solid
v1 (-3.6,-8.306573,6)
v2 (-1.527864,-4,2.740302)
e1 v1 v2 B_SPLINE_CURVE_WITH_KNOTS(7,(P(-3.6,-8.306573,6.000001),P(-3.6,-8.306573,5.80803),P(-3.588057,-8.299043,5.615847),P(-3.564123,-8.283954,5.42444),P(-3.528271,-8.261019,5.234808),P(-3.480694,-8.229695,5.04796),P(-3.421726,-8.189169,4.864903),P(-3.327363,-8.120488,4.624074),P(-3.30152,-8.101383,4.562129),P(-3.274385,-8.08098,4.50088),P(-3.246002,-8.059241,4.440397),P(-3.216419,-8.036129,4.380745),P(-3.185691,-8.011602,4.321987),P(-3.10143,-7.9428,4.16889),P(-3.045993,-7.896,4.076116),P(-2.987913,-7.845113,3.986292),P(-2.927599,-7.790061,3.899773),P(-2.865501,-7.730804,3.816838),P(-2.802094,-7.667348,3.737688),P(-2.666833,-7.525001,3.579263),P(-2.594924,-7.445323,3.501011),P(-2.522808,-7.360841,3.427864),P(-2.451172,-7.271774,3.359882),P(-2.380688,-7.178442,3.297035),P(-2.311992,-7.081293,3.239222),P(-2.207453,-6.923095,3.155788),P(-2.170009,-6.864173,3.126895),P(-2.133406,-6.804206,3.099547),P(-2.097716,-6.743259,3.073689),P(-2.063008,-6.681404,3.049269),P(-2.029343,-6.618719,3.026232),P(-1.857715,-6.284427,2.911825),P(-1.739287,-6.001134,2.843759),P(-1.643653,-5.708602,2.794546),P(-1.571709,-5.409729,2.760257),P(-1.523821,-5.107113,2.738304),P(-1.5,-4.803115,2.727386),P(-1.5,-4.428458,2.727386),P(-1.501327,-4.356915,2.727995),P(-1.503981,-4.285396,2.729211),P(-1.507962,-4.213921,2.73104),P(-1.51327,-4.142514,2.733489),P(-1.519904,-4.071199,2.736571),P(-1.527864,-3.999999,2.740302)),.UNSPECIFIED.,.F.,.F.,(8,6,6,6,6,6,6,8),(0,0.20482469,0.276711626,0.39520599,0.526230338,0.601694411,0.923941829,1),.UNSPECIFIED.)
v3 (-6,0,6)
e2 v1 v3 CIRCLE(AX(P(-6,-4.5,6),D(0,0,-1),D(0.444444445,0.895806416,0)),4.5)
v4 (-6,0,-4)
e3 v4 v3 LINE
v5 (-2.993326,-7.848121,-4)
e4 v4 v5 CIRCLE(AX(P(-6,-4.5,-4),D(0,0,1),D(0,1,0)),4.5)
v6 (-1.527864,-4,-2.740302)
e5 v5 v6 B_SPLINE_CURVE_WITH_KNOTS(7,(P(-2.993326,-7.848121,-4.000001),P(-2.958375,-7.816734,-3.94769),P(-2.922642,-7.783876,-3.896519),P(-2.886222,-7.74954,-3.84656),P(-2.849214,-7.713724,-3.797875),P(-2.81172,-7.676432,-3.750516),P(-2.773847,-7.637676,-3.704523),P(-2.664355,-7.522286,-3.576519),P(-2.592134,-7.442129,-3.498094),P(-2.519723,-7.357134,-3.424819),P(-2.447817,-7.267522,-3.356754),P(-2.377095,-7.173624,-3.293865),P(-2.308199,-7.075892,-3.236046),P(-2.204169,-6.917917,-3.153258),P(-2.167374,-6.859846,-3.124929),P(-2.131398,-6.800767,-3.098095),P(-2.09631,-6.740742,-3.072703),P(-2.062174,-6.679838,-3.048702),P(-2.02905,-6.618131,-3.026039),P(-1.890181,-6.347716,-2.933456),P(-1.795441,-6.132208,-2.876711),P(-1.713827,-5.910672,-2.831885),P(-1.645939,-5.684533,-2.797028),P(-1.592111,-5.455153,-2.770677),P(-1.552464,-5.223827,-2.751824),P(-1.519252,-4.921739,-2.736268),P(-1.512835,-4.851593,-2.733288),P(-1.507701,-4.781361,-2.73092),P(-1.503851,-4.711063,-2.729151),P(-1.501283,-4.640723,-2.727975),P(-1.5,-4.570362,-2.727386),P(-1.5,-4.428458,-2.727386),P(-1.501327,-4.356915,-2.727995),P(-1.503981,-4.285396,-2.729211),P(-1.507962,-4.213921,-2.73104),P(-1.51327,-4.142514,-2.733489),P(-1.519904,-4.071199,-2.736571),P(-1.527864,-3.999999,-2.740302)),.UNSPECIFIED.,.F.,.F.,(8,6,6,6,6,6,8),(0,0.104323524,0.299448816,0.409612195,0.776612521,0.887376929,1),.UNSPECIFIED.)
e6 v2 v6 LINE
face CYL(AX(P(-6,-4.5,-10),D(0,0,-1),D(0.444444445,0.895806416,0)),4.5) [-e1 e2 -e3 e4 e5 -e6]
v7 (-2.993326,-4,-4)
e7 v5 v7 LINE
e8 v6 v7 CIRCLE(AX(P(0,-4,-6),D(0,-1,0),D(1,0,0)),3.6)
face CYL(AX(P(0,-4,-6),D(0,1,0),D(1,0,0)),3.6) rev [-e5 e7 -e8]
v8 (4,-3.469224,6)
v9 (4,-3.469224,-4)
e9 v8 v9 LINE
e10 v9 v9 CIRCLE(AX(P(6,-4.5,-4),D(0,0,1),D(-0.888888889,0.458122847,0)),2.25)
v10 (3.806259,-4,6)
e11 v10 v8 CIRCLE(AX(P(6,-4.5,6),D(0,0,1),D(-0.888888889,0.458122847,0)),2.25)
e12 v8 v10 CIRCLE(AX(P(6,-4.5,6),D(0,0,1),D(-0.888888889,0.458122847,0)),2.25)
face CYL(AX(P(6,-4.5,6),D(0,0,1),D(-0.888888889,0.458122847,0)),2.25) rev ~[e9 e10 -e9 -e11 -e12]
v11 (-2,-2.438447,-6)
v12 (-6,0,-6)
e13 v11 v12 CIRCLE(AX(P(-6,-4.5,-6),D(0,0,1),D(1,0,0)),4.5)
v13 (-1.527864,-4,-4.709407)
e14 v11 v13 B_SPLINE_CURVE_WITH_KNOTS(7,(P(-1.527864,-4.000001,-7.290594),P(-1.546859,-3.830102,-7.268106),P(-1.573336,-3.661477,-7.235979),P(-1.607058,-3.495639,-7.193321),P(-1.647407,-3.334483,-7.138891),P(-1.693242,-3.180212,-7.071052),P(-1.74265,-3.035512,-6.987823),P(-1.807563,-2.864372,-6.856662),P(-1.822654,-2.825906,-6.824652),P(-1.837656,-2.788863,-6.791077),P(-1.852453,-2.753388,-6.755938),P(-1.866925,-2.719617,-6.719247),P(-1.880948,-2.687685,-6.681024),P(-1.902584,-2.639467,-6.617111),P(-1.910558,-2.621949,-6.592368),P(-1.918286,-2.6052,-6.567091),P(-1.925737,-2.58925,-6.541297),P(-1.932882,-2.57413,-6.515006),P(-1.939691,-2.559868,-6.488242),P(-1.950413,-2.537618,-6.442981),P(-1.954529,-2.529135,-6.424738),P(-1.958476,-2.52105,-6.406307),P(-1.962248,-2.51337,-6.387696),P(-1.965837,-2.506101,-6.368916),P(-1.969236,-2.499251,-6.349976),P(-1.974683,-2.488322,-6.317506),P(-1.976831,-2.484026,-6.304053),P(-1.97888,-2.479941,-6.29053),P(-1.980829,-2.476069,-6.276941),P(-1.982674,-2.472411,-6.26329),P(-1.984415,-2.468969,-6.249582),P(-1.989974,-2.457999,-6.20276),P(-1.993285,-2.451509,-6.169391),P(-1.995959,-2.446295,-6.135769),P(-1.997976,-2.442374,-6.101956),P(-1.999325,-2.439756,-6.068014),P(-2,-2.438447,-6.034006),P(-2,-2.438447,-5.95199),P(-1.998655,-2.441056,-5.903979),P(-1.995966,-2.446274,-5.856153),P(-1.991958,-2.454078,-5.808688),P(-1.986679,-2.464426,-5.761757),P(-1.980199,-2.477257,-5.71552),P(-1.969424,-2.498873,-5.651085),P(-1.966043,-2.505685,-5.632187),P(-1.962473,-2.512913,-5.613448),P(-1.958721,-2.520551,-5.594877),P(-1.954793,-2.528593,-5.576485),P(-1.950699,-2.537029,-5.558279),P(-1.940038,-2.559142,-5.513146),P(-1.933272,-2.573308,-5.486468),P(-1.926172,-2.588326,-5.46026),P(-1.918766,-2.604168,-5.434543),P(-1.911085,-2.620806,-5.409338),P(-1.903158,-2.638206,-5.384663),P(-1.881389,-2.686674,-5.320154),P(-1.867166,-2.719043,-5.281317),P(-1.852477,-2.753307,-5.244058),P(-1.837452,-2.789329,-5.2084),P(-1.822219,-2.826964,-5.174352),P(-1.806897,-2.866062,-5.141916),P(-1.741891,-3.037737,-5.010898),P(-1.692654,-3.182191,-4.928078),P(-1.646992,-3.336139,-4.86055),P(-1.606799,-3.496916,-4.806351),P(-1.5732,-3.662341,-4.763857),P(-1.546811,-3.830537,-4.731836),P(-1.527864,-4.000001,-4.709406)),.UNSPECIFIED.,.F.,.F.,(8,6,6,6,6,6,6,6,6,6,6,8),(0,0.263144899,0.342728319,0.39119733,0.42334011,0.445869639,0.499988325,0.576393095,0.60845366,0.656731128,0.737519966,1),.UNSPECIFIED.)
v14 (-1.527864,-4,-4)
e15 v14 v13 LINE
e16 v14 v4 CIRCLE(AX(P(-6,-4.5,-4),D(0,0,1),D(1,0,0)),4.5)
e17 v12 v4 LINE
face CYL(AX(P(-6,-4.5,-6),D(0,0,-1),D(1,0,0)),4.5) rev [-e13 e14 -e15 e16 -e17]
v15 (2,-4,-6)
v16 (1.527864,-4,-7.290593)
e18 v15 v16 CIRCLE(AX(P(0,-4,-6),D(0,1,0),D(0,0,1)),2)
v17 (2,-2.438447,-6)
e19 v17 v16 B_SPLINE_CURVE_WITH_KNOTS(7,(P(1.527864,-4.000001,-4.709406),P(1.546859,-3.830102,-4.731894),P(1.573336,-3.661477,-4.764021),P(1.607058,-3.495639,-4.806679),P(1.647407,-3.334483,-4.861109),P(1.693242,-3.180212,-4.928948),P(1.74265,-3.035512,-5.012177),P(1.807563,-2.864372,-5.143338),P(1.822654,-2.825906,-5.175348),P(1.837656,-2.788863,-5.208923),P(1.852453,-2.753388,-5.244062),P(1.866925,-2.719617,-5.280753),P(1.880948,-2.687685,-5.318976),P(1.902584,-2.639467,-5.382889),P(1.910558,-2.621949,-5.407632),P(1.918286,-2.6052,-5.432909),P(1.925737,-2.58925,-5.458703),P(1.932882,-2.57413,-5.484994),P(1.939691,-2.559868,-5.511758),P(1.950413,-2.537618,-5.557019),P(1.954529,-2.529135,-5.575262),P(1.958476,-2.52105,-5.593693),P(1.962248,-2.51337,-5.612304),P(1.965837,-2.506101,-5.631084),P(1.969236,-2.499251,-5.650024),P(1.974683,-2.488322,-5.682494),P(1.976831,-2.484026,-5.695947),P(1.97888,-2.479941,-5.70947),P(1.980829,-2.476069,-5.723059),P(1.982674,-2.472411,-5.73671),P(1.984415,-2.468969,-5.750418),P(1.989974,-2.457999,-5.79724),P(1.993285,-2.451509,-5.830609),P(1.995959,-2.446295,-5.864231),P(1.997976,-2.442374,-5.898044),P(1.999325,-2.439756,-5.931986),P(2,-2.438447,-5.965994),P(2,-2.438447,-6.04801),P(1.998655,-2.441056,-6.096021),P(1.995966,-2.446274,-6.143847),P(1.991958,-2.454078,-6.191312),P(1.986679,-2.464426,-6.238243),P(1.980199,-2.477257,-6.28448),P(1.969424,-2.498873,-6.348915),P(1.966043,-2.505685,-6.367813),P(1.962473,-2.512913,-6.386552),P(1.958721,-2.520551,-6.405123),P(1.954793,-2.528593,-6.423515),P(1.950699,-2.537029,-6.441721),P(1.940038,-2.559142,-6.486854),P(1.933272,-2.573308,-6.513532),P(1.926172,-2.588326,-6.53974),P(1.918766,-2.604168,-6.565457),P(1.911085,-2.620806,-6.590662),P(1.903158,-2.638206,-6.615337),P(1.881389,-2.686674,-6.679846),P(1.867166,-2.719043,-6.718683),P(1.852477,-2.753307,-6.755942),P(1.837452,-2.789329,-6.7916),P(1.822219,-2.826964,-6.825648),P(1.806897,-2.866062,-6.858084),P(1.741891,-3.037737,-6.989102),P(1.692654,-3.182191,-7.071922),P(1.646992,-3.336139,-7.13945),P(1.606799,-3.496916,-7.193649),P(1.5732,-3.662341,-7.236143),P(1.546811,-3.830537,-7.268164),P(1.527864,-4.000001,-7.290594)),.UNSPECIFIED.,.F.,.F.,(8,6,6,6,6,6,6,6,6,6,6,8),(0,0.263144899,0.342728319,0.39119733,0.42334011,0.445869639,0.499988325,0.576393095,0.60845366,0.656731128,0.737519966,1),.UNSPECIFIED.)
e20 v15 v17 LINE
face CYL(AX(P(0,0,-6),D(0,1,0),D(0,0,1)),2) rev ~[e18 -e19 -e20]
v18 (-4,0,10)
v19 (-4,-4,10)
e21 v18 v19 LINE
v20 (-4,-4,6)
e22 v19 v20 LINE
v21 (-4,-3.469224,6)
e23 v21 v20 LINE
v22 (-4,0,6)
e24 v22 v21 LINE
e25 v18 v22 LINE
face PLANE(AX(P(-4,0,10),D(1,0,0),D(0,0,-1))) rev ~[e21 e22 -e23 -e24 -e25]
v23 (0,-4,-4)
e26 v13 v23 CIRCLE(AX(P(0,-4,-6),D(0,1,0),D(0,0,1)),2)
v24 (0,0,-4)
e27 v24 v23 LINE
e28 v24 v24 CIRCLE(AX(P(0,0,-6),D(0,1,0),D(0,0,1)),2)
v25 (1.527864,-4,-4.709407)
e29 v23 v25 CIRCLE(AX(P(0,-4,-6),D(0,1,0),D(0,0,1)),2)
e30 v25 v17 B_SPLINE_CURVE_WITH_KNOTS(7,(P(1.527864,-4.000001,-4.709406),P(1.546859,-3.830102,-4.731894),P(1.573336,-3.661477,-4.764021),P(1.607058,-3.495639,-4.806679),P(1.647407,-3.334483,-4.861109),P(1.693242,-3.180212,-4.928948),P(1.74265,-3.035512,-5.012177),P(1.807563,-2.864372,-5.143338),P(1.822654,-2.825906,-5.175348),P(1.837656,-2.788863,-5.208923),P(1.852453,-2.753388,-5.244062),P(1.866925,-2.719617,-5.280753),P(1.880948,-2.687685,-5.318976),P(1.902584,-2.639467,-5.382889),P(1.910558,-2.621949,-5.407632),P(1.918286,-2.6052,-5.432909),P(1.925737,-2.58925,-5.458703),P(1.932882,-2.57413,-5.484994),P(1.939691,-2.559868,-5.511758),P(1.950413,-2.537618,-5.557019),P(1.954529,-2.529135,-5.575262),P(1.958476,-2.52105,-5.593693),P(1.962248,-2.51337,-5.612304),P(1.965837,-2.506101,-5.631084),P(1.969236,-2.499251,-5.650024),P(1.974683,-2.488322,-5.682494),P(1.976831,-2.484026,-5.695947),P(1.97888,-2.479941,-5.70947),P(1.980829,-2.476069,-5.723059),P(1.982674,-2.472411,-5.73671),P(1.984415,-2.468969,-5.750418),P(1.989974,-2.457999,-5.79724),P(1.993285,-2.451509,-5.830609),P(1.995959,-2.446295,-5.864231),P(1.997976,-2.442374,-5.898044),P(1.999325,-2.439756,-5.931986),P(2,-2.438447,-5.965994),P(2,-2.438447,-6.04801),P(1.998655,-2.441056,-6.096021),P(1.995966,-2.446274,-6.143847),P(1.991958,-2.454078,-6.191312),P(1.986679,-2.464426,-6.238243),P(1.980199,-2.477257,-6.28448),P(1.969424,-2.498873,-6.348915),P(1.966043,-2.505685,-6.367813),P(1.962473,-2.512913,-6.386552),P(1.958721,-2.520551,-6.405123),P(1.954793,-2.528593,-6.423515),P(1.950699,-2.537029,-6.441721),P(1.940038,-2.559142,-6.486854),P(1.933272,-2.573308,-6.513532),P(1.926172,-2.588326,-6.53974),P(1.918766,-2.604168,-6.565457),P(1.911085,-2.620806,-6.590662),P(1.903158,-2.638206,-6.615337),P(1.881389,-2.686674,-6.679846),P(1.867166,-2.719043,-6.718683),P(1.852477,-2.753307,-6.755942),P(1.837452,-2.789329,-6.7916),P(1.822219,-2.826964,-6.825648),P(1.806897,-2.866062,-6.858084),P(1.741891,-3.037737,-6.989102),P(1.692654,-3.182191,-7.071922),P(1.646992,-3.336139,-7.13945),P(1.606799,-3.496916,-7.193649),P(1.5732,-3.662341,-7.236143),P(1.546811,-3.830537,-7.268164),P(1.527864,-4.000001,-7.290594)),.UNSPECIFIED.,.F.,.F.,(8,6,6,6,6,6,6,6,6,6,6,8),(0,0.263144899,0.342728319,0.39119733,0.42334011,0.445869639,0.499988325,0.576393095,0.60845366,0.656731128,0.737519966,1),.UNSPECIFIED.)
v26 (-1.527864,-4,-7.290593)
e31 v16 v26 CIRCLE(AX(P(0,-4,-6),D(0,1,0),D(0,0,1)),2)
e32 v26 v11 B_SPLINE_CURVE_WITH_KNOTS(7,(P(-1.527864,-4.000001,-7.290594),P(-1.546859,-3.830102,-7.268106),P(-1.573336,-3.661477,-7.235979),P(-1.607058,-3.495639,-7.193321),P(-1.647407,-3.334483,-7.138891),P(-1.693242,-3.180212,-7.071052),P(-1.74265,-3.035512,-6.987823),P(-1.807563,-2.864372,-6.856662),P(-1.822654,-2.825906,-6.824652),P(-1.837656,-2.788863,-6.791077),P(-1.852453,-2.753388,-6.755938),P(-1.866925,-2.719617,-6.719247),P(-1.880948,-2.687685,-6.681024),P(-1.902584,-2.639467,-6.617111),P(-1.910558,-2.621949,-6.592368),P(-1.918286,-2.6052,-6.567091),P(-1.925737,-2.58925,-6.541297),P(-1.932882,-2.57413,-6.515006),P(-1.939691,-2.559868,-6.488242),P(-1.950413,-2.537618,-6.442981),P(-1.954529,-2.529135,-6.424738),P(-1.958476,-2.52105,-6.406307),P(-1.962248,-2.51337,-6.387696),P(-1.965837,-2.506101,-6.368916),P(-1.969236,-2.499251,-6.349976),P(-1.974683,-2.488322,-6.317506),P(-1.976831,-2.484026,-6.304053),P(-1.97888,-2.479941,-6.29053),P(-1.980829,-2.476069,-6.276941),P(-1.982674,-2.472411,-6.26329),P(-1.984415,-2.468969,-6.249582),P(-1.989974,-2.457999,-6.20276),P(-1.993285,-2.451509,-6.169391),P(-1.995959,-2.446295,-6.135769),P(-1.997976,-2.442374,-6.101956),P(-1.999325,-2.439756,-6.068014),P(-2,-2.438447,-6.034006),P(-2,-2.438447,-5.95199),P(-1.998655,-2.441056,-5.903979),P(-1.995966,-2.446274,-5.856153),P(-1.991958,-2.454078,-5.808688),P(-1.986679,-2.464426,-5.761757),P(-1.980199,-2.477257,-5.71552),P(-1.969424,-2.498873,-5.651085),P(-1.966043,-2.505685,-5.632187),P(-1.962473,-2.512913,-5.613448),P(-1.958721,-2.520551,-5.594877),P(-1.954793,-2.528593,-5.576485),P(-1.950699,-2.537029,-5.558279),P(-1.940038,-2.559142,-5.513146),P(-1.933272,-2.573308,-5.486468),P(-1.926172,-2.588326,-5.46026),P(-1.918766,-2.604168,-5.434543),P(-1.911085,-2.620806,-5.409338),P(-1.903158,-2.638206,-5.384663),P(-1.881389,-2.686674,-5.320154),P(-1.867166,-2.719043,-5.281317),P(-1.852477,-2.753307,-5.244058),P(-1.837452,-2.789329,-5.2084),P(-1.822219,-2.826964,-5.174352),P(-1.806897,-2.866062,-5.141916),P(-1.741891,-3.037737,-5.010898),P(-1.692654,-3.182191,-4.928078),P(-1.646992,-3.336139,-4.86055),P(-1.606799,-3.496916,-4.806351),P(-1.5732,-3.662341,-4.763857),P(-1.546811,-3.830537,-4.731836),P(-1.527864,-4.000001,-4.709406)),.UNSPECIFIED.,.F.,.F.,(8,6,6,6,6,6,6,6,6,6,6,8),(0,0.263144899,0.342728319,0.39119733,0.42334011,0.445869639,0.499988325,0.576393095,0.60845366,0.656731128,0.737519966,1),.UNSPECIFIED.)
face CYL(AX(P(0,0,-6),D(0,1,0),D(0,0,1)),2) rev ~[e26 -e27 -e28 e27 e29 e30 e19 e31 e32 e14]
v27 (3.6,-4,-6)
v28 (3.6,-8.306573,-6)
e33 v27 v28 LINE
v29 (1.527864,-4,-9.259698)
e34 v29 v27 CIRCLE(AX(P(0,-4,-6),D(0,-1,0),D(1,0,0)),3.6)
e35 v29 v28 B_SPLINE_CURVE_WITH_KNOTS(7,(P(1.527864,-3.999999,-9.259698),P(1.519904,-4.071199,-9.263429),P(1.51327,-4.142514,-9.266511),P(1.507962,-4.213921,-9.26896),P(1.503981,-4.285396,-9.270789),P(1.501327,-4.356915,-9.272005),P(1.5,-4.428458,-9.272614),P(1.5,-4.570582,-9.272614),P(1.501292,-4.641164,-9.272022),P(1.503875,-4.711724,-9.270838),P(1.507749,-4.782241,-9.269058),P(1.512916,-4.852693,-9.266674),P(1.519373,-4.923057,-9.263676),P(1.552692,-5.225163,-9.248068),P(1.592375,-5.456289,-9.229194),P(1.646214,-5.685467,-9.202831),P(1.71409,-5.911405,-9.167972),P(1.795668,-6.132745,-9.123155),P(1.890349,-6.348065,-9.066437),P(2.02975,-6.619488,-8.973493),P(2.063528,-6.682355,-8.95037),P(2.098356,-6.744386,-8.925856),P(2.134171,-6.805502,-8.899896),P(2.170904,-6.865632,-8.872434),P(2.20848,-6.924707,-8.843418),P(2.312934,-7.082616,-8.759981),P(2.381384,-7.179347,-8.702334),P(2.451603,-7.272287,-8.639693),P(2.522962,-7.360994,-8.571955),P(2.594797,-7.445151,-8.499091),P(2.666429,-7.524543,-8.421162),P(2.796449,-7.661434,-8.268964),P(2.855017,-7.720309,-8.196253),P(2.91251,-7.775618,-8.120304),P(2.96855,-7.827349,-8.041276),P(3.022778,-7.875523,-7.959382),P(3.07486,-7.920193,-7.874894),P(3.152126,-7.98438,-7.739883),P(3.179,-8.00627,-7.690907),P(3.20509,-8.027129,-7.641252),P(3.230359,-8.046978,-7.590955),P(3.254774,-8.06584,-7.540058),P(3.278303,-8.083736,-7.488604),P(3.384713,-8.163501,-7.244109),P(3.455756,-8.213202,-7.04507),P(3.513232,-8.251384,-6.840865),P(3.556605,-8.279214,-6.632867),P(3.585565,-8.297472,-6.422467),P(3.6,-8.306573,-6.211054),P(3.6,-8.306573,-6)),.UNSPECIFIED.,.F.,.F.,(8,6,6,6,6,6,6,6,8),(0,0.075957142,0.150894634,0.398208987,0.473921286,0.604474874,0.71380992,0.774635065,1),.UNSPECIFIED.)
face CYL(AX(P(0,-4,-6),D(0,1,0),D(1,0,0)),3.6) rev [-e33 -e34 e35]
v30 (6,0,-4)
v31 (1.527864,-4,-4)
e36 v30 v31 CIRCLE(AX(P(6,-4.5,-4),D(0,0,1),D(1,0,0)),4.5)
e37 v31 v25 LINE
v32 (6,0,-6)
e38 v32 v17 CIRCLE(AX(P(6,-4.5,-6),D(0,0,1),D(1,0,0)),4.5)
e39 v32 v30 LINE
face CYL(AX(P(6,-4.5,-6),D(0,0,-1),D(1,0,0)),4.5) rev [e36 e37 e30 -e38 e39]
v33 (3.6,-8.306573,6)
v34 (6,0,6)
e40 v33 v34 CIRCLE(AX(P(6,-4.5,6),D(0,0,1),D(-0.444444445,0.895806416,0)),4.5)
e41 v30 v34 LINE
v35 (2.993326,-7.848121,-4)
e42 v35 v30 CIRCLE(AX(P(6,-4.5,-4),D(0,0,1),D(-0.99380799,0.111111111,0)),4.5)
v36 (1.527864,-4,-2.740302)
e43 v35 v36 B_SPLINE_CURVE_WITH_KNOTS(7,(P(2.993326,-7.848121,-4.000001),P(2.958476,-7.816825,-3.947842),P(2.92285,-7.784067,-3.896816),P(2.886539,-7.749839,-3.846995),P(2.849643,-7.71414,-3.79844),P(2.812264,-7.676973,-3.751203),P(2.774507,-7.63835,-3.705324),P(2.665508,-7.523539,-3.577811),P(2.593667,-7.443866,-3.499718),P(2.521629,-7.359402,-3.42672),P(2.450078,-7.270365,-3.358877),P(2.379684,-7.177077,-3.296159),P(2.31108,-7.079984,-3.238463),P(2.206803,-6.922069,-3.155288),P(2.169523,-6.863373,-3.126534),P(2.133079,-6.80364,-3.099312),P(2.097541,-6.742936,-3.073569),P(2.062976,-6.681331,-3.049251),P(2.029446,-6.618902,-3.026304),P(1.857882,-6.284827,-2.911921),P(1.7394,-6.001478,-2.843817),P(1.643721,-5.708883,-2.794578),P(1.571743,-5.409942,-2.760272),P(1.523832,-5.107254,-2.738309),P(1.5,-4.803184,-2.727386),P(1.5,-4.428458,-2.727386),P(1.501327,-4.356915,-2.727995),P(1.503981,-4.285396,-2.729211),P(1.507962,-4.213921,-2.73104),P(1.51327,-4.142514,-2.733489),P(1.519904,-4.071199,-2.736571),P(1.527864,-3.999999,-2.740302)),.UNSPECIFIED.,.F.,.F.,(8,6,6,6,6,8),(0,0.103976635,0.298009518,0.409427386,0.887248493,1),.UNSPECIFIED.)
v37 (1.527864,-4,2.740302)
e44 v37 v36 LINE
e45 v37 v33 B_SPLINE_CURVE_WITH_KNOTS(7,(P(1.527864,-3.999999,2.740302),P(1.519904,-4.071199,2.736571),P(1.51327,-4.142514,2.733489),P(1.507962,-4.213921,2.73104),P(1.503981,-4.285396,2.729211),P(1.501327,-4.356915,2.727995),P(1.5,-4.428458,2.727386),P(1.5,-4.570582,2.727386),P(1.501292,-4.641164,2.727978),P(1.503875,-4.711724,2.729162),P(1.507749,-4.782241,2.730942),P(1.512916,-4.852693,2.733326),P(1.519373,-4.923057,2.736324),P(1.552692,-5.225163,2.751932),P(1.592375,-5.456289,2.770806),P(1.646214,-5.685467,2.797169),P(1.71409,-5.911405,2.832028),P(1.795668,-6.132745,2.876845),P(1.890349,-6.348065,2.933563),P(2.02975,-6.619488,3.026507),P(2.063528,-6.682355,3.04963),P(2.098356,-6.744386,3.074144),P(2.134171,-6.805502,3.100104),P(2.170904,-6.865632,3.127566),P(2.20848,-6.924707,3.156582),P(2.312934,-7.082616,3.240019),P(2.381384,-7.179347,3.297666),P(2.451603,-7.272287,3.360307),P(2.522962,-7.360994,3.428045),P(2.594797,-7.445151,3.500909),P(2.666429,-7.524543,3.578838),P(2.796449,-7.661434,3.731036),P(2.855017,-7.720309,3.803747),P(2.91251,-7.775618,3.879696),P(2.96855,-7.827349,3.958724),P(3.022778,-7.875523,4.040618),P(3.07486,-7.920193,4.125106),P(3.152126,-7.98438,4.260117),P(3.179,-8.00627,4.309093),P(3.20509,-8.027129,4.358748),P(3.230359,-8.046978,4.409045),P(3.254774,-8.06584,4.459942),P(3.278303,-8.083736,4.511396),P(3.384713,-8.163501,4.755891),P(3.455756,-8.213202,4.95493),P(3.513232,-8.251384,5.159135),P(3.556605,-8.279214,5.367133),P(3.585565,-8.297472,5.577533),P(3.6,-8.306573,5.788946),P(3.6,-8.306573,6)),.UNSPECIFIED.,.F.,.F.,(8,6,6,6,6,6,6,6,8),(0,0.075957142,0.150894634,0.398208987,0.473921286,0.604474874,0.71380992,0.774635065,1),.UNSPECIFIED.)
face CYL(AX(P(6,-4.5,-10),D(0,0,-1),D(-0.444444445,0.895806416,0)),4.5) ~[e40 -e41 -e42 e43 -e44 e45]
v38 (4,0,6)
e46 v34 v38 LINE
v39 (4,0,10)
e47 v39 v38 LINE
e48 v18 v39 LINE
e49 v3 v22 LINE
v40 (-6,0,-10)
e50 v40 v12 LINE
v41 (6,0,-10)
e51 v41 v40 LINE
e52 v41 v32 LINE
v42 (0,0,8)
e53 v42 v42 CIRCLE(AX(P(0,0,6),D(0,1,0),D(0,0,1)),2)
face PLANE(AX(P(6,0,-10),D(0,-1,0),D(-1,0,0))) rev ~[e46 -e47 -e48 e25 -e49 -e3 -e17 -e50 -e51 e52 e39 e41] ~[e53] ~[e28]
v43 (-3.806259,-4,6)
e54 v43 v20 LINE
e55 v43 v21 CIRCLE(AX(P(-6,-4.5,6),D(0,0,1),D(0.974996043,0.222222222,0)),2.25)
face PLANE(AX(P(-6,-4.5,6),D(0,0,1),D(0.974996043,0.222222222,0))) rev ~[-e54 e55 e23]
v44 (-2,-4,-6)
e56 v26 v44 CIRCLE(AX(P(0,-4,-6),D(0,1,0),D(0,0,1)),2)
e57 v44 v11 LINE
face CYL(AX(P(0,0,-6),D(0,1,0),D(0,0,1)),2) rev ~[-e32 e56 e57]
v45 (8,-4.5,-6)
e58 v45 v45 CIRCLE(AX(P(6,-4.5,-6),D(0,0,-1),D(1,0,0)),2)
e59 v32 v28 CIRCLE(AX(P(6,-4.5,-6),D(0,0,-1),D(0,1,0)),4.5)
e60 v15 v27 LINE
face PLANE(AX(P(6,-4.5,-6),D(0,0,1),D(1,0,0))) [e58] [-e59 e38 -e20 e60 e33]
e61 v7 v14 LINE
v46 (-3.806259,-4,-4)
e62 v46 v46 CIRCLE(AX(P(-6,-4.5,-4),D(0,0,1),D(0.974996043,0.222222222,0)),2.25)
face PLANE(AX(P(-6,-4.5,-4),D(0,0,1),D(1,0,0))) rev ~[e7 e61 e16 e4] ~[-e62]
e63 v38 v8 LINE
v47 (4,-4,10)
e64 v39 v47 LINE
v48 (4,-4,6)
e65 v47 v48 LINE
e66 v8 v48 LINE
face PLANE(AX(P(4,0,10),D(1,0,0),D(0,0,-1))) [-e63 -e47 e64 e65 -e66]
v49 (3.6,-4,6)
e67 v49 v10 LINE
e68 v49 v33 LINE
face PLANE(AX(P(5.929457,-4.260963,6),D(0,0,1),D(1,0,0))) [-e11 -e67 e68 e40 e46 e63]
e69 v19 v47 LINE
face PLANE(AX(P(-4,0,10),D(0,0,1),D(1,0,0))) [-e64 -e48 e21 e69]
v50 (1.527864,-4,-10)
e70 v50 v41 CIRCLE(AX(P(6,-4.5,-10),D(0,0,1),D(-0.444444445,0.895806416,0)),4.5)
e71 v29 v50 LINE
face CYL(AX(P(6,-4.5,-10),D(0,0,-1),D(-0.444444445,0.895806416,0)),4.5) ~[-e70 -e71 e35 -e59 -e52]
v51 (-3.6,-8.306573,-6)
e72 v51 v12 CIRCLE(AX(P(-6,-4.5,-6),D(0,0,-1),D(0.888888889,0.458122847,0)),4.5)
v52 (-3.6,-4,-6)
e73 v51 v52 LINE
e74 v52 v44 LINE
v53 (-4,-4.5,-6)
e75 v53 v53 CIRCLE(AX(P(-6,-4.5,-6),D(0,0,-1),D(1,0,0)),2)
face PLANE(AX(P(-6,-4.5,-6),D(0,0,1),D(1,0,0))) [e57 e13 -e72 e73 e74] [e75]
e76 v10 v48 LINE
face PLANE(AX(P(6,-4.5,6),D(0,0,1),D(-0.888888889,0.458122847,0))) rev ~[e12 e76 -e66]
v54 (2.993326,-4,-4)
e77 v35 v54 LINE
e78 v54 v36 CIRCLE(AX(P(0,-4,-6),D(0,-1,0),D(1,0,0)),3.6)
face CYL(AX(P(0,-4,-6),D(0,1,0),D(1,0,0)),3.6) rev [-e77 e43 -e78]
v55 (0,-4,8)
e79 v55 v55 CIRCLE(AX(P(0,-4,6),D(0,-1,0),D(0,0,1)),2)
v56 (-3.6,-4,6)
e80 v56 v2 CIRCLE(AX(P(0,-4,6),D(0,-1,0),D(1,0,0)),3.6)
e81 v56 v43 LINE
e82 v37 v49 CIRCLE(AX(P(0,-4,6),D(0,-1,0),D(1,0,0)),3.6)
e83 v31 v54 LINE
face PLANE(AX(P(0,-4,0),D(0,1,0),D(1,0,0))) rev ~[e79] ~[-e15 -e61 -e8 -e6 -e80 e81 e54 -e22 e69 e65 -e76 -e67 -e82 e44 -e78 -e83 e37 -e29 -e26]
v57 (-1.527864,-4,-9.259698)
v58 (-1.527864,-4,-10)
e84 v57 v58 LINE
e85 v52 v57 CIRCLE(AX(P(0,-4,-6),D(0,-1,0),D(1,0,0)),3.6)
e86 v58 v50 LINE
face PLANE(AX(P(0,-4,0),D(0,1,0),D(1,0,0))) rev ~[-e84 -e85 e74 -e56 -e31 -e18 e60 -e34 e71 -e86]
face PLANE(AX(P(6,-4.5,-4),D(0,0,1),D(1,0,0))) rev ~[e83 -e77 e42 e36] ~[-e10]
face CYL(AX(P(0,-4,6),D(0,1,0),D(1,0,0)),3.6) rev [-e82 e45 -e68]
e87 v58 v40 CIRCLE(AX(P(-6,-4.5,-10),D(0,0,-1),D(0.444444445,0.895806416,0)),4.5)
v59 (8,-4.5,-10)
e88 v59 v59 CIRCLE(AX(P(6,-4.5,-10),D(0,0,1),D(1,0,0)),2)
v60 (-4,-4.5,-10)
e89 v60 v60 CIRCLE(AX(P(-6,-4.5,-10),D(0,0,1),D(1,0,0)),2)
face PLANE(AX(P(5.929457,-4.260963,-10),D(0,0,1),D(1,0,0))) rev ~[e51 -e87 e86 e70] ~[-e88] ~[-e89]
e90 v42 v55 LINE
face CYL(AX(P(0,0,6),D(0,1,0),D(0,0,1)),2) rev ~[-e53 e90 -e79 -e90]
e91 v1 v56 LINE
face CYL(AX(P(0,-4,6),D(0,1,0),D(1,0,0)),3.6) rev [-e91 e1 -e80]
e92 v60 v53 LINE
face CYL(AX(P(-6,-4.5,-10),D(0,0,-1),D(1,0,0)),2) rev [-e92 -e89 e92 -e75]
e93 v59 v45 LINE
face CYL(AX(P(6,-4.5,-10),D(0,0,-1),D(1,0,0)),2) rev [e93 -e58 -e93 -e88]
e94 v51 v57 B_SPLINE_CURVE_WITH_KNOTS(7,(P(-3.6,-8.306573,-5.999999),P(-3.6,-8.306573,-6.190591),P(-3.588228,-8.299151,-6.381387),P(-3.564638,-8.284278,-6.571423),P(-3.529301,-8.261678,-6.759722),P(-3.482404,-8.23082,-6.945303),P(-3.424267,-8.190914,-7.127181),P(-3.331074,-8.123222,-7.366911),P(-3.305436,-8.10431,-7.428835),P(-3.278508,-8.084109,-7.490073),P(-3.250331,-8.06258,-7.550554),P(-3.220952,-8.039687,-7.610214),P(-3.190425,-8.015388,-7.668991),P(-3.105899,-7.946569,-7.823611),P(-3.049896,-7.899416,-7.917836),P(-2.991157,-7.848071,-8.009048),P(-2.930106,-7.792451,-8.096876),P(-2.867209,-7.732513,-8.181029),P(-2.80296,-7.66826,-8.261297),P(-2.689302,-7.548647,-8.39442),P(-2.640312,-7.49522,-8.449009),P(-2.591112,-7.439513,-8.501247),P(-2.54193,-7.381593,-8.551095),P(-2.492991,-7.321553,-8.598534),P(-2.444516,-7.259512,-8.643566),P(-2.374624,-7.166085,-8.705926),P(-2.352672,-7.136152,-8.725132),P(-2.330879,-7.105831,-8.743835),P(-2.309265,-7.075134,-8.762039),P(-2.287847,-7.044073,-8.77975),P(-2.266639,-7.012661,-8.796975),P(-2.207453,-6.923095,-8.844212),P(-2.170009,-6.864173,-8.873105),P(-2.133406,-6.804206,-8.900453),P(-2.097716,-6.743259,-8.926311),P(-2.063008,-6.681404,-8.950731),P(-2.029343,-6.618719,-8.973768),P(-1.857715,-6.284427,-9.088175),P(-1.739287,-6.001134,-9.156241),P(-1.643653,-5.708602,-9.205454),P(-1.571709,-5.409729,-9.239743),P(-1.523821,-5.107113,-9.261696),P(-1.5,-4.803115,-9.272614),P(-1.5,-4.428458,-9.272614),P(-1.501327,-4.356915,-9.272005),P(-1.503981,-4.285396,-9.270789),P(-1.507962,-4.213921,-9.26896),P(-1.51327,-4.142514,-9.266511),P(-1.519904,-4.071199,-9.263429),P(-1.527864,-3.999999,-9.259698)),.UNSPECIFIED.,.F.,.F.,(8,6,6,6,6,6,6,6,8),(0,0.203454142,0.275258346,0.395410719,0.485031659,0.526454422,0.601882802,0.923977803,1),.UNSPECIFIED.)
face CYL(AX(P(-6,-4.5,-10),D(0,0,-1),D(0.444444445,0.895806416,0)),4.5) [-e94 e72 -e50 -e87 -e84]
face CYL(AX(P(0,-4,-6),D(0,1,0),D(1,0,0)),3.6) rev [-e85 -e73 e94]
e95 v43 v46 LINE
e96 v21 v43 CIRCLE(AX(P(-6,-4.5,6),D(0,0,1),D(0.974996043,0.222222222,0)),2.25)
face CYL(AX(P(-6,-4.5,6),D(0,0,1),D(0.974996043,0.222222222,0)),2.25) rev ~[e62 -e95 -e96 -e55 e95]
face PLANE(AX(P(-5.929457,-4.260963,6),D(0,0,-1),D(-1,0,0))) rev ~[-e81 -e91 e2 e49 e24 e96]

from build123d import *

# Parameters (mm, degrees)
SKETCH2_W           = 8
SKETCH2_H           = 20
SKETCH2_R           = 2
BOSS_EXTRUDE2_DEPTH = 4
SKETCH3_R           = 2
BOSS_EXTRUDE3_DEPTH = 16
SKETCH5_R           = 2.25
CUT_EXTRUDE1_DEPTH  = 10
CUT_EXTRUDE2_START  = -2
SKETCH6_R           = 4.5
CUT_EXTRUDE2_DEPTH  = 2
SKETCH7_R           = 3.6
CUT_EXTRUDE3_DEPTH  = 16.337861816
SKETCH8_R           = 2
CUT_EXTRUDE4_DEPTH  = 18.066048339


with BuildPart() as part:
    # Sketch2 → Boss-Extrude2 (new body)
    with BuildSketch(Plane(origin=(0, 0, 0), x_dir=(1, 0, 0), z_dir=(0, 1, 0))):
        Rectangle(SKETCH2_W, SKETCH2_H)
        with Locations(Location((0, 6, 0), (0, 0, 270))):
            Circle(SKETCH2_R, mode=Mode.SUBTRACT)
        with Locations(Location((0, -6, 0), (0, 0, 270))):
            Circle(SKETCH2_R, mode=Mode.SUBTRACT)
    extrude(amount=-BOSS_EXTRUDE2_DEPTH)

    # Sketch3 → Boss-Extrude3 (add)
    # profile 1 of 2: a face of its own
    with BuildSketch(Plane.XY.offset(-10)):
        with BuildLine():
            Line((6, 0), (4, 0))
            Line((4, 0), (4, -0.468871126))
            ThreePointArc((4, -0.468871126), (7.027112473, -8.88121444), (6, 0))
        make_face()
        with Locations((6, -4.5)):
            Circle(SKETCH3_R, mode=Mode.SUBTRACT)
    # profile 2 of 2: a face of its own
    with BuildSketch(Plane.XY.offset(-10)):
        with BuildLine():
            Line((-6, 0), (-4, 0))
            Line((-4, 0), (-4, -0.468871126))
            ThreePointArc((-4, -0.468871126), (-7.027112473, -8.88121444), (-6, 0))
        make_face()
        with Locations((-6, -4.5)):
            Circle(SKETCH3_R, mode=Mode.SUBTRACT)
    extrude(amount=BOSS_EXTRUDE3_DEPTH)

    # Sketch5 → Cut-Extrude1 (cut)
    with BuildSketch(Plane.XY.offset(6)):
        with Locations(Location((-6, -4.5, 0), (0, 0, 12.839588407))):
            Circle(SKETCH5_R)
        with Locations(Location((6, -4.5, 0), (0, 0, 152.733955549))):
            Circle(SKETCH5_R)
    extrude(amount=-CUT_EXTRUDE1_DEPTH, mode=Mode.SUBTRACT)

    # Sketch6 → Cut-Extrude2 (cut)
    with BuildSketch(Plane.XY.offset(-4).offset(CUT_EXTRUDE2_START)):
        with Locations((6, -4.5)):
            Circle(SKETCH6_R)
        with Locations((-6, -4.5)):
            Circle(SKETCH6_R)
    extrude(amount=CUT_EXTRUDE2_DEPTH, mode=Mode.SUBTRACT)

    # Sketch7 → Cut-Extrude3 (cut, through all)
    with BuildSketch(Plane.XZ.offset(4)):
        with Locations((0, 6)):
            Circle(SKETCH7_R)
        with Locations((0, -6)):
            Circle(SKETCH7_R)
    extrude(amount=CUT_EXTRUDE3_DEPTH, mode=Mode.SUBTRACT)

    # Sketch8 → Cut-Extrude4 (cut, through all)
    with BuildSketch(Plane(origin=(0, 0, 0), x_dir=(1, 0, 0), z_dir=(0, 1, 0))):
        with Locations(Location((0, 6, 0), (0, 0, 270))):
            Circle(SKETCH8_R)
        with Locations(Location((0, -6, 0), (0, 0, 270))):
            Circle(SKETCH8_R)
    extrude(amount=-CUT_EXTRUDE4_DEPTH, mode=Mode.SUBTRACT)


solid = part.part
